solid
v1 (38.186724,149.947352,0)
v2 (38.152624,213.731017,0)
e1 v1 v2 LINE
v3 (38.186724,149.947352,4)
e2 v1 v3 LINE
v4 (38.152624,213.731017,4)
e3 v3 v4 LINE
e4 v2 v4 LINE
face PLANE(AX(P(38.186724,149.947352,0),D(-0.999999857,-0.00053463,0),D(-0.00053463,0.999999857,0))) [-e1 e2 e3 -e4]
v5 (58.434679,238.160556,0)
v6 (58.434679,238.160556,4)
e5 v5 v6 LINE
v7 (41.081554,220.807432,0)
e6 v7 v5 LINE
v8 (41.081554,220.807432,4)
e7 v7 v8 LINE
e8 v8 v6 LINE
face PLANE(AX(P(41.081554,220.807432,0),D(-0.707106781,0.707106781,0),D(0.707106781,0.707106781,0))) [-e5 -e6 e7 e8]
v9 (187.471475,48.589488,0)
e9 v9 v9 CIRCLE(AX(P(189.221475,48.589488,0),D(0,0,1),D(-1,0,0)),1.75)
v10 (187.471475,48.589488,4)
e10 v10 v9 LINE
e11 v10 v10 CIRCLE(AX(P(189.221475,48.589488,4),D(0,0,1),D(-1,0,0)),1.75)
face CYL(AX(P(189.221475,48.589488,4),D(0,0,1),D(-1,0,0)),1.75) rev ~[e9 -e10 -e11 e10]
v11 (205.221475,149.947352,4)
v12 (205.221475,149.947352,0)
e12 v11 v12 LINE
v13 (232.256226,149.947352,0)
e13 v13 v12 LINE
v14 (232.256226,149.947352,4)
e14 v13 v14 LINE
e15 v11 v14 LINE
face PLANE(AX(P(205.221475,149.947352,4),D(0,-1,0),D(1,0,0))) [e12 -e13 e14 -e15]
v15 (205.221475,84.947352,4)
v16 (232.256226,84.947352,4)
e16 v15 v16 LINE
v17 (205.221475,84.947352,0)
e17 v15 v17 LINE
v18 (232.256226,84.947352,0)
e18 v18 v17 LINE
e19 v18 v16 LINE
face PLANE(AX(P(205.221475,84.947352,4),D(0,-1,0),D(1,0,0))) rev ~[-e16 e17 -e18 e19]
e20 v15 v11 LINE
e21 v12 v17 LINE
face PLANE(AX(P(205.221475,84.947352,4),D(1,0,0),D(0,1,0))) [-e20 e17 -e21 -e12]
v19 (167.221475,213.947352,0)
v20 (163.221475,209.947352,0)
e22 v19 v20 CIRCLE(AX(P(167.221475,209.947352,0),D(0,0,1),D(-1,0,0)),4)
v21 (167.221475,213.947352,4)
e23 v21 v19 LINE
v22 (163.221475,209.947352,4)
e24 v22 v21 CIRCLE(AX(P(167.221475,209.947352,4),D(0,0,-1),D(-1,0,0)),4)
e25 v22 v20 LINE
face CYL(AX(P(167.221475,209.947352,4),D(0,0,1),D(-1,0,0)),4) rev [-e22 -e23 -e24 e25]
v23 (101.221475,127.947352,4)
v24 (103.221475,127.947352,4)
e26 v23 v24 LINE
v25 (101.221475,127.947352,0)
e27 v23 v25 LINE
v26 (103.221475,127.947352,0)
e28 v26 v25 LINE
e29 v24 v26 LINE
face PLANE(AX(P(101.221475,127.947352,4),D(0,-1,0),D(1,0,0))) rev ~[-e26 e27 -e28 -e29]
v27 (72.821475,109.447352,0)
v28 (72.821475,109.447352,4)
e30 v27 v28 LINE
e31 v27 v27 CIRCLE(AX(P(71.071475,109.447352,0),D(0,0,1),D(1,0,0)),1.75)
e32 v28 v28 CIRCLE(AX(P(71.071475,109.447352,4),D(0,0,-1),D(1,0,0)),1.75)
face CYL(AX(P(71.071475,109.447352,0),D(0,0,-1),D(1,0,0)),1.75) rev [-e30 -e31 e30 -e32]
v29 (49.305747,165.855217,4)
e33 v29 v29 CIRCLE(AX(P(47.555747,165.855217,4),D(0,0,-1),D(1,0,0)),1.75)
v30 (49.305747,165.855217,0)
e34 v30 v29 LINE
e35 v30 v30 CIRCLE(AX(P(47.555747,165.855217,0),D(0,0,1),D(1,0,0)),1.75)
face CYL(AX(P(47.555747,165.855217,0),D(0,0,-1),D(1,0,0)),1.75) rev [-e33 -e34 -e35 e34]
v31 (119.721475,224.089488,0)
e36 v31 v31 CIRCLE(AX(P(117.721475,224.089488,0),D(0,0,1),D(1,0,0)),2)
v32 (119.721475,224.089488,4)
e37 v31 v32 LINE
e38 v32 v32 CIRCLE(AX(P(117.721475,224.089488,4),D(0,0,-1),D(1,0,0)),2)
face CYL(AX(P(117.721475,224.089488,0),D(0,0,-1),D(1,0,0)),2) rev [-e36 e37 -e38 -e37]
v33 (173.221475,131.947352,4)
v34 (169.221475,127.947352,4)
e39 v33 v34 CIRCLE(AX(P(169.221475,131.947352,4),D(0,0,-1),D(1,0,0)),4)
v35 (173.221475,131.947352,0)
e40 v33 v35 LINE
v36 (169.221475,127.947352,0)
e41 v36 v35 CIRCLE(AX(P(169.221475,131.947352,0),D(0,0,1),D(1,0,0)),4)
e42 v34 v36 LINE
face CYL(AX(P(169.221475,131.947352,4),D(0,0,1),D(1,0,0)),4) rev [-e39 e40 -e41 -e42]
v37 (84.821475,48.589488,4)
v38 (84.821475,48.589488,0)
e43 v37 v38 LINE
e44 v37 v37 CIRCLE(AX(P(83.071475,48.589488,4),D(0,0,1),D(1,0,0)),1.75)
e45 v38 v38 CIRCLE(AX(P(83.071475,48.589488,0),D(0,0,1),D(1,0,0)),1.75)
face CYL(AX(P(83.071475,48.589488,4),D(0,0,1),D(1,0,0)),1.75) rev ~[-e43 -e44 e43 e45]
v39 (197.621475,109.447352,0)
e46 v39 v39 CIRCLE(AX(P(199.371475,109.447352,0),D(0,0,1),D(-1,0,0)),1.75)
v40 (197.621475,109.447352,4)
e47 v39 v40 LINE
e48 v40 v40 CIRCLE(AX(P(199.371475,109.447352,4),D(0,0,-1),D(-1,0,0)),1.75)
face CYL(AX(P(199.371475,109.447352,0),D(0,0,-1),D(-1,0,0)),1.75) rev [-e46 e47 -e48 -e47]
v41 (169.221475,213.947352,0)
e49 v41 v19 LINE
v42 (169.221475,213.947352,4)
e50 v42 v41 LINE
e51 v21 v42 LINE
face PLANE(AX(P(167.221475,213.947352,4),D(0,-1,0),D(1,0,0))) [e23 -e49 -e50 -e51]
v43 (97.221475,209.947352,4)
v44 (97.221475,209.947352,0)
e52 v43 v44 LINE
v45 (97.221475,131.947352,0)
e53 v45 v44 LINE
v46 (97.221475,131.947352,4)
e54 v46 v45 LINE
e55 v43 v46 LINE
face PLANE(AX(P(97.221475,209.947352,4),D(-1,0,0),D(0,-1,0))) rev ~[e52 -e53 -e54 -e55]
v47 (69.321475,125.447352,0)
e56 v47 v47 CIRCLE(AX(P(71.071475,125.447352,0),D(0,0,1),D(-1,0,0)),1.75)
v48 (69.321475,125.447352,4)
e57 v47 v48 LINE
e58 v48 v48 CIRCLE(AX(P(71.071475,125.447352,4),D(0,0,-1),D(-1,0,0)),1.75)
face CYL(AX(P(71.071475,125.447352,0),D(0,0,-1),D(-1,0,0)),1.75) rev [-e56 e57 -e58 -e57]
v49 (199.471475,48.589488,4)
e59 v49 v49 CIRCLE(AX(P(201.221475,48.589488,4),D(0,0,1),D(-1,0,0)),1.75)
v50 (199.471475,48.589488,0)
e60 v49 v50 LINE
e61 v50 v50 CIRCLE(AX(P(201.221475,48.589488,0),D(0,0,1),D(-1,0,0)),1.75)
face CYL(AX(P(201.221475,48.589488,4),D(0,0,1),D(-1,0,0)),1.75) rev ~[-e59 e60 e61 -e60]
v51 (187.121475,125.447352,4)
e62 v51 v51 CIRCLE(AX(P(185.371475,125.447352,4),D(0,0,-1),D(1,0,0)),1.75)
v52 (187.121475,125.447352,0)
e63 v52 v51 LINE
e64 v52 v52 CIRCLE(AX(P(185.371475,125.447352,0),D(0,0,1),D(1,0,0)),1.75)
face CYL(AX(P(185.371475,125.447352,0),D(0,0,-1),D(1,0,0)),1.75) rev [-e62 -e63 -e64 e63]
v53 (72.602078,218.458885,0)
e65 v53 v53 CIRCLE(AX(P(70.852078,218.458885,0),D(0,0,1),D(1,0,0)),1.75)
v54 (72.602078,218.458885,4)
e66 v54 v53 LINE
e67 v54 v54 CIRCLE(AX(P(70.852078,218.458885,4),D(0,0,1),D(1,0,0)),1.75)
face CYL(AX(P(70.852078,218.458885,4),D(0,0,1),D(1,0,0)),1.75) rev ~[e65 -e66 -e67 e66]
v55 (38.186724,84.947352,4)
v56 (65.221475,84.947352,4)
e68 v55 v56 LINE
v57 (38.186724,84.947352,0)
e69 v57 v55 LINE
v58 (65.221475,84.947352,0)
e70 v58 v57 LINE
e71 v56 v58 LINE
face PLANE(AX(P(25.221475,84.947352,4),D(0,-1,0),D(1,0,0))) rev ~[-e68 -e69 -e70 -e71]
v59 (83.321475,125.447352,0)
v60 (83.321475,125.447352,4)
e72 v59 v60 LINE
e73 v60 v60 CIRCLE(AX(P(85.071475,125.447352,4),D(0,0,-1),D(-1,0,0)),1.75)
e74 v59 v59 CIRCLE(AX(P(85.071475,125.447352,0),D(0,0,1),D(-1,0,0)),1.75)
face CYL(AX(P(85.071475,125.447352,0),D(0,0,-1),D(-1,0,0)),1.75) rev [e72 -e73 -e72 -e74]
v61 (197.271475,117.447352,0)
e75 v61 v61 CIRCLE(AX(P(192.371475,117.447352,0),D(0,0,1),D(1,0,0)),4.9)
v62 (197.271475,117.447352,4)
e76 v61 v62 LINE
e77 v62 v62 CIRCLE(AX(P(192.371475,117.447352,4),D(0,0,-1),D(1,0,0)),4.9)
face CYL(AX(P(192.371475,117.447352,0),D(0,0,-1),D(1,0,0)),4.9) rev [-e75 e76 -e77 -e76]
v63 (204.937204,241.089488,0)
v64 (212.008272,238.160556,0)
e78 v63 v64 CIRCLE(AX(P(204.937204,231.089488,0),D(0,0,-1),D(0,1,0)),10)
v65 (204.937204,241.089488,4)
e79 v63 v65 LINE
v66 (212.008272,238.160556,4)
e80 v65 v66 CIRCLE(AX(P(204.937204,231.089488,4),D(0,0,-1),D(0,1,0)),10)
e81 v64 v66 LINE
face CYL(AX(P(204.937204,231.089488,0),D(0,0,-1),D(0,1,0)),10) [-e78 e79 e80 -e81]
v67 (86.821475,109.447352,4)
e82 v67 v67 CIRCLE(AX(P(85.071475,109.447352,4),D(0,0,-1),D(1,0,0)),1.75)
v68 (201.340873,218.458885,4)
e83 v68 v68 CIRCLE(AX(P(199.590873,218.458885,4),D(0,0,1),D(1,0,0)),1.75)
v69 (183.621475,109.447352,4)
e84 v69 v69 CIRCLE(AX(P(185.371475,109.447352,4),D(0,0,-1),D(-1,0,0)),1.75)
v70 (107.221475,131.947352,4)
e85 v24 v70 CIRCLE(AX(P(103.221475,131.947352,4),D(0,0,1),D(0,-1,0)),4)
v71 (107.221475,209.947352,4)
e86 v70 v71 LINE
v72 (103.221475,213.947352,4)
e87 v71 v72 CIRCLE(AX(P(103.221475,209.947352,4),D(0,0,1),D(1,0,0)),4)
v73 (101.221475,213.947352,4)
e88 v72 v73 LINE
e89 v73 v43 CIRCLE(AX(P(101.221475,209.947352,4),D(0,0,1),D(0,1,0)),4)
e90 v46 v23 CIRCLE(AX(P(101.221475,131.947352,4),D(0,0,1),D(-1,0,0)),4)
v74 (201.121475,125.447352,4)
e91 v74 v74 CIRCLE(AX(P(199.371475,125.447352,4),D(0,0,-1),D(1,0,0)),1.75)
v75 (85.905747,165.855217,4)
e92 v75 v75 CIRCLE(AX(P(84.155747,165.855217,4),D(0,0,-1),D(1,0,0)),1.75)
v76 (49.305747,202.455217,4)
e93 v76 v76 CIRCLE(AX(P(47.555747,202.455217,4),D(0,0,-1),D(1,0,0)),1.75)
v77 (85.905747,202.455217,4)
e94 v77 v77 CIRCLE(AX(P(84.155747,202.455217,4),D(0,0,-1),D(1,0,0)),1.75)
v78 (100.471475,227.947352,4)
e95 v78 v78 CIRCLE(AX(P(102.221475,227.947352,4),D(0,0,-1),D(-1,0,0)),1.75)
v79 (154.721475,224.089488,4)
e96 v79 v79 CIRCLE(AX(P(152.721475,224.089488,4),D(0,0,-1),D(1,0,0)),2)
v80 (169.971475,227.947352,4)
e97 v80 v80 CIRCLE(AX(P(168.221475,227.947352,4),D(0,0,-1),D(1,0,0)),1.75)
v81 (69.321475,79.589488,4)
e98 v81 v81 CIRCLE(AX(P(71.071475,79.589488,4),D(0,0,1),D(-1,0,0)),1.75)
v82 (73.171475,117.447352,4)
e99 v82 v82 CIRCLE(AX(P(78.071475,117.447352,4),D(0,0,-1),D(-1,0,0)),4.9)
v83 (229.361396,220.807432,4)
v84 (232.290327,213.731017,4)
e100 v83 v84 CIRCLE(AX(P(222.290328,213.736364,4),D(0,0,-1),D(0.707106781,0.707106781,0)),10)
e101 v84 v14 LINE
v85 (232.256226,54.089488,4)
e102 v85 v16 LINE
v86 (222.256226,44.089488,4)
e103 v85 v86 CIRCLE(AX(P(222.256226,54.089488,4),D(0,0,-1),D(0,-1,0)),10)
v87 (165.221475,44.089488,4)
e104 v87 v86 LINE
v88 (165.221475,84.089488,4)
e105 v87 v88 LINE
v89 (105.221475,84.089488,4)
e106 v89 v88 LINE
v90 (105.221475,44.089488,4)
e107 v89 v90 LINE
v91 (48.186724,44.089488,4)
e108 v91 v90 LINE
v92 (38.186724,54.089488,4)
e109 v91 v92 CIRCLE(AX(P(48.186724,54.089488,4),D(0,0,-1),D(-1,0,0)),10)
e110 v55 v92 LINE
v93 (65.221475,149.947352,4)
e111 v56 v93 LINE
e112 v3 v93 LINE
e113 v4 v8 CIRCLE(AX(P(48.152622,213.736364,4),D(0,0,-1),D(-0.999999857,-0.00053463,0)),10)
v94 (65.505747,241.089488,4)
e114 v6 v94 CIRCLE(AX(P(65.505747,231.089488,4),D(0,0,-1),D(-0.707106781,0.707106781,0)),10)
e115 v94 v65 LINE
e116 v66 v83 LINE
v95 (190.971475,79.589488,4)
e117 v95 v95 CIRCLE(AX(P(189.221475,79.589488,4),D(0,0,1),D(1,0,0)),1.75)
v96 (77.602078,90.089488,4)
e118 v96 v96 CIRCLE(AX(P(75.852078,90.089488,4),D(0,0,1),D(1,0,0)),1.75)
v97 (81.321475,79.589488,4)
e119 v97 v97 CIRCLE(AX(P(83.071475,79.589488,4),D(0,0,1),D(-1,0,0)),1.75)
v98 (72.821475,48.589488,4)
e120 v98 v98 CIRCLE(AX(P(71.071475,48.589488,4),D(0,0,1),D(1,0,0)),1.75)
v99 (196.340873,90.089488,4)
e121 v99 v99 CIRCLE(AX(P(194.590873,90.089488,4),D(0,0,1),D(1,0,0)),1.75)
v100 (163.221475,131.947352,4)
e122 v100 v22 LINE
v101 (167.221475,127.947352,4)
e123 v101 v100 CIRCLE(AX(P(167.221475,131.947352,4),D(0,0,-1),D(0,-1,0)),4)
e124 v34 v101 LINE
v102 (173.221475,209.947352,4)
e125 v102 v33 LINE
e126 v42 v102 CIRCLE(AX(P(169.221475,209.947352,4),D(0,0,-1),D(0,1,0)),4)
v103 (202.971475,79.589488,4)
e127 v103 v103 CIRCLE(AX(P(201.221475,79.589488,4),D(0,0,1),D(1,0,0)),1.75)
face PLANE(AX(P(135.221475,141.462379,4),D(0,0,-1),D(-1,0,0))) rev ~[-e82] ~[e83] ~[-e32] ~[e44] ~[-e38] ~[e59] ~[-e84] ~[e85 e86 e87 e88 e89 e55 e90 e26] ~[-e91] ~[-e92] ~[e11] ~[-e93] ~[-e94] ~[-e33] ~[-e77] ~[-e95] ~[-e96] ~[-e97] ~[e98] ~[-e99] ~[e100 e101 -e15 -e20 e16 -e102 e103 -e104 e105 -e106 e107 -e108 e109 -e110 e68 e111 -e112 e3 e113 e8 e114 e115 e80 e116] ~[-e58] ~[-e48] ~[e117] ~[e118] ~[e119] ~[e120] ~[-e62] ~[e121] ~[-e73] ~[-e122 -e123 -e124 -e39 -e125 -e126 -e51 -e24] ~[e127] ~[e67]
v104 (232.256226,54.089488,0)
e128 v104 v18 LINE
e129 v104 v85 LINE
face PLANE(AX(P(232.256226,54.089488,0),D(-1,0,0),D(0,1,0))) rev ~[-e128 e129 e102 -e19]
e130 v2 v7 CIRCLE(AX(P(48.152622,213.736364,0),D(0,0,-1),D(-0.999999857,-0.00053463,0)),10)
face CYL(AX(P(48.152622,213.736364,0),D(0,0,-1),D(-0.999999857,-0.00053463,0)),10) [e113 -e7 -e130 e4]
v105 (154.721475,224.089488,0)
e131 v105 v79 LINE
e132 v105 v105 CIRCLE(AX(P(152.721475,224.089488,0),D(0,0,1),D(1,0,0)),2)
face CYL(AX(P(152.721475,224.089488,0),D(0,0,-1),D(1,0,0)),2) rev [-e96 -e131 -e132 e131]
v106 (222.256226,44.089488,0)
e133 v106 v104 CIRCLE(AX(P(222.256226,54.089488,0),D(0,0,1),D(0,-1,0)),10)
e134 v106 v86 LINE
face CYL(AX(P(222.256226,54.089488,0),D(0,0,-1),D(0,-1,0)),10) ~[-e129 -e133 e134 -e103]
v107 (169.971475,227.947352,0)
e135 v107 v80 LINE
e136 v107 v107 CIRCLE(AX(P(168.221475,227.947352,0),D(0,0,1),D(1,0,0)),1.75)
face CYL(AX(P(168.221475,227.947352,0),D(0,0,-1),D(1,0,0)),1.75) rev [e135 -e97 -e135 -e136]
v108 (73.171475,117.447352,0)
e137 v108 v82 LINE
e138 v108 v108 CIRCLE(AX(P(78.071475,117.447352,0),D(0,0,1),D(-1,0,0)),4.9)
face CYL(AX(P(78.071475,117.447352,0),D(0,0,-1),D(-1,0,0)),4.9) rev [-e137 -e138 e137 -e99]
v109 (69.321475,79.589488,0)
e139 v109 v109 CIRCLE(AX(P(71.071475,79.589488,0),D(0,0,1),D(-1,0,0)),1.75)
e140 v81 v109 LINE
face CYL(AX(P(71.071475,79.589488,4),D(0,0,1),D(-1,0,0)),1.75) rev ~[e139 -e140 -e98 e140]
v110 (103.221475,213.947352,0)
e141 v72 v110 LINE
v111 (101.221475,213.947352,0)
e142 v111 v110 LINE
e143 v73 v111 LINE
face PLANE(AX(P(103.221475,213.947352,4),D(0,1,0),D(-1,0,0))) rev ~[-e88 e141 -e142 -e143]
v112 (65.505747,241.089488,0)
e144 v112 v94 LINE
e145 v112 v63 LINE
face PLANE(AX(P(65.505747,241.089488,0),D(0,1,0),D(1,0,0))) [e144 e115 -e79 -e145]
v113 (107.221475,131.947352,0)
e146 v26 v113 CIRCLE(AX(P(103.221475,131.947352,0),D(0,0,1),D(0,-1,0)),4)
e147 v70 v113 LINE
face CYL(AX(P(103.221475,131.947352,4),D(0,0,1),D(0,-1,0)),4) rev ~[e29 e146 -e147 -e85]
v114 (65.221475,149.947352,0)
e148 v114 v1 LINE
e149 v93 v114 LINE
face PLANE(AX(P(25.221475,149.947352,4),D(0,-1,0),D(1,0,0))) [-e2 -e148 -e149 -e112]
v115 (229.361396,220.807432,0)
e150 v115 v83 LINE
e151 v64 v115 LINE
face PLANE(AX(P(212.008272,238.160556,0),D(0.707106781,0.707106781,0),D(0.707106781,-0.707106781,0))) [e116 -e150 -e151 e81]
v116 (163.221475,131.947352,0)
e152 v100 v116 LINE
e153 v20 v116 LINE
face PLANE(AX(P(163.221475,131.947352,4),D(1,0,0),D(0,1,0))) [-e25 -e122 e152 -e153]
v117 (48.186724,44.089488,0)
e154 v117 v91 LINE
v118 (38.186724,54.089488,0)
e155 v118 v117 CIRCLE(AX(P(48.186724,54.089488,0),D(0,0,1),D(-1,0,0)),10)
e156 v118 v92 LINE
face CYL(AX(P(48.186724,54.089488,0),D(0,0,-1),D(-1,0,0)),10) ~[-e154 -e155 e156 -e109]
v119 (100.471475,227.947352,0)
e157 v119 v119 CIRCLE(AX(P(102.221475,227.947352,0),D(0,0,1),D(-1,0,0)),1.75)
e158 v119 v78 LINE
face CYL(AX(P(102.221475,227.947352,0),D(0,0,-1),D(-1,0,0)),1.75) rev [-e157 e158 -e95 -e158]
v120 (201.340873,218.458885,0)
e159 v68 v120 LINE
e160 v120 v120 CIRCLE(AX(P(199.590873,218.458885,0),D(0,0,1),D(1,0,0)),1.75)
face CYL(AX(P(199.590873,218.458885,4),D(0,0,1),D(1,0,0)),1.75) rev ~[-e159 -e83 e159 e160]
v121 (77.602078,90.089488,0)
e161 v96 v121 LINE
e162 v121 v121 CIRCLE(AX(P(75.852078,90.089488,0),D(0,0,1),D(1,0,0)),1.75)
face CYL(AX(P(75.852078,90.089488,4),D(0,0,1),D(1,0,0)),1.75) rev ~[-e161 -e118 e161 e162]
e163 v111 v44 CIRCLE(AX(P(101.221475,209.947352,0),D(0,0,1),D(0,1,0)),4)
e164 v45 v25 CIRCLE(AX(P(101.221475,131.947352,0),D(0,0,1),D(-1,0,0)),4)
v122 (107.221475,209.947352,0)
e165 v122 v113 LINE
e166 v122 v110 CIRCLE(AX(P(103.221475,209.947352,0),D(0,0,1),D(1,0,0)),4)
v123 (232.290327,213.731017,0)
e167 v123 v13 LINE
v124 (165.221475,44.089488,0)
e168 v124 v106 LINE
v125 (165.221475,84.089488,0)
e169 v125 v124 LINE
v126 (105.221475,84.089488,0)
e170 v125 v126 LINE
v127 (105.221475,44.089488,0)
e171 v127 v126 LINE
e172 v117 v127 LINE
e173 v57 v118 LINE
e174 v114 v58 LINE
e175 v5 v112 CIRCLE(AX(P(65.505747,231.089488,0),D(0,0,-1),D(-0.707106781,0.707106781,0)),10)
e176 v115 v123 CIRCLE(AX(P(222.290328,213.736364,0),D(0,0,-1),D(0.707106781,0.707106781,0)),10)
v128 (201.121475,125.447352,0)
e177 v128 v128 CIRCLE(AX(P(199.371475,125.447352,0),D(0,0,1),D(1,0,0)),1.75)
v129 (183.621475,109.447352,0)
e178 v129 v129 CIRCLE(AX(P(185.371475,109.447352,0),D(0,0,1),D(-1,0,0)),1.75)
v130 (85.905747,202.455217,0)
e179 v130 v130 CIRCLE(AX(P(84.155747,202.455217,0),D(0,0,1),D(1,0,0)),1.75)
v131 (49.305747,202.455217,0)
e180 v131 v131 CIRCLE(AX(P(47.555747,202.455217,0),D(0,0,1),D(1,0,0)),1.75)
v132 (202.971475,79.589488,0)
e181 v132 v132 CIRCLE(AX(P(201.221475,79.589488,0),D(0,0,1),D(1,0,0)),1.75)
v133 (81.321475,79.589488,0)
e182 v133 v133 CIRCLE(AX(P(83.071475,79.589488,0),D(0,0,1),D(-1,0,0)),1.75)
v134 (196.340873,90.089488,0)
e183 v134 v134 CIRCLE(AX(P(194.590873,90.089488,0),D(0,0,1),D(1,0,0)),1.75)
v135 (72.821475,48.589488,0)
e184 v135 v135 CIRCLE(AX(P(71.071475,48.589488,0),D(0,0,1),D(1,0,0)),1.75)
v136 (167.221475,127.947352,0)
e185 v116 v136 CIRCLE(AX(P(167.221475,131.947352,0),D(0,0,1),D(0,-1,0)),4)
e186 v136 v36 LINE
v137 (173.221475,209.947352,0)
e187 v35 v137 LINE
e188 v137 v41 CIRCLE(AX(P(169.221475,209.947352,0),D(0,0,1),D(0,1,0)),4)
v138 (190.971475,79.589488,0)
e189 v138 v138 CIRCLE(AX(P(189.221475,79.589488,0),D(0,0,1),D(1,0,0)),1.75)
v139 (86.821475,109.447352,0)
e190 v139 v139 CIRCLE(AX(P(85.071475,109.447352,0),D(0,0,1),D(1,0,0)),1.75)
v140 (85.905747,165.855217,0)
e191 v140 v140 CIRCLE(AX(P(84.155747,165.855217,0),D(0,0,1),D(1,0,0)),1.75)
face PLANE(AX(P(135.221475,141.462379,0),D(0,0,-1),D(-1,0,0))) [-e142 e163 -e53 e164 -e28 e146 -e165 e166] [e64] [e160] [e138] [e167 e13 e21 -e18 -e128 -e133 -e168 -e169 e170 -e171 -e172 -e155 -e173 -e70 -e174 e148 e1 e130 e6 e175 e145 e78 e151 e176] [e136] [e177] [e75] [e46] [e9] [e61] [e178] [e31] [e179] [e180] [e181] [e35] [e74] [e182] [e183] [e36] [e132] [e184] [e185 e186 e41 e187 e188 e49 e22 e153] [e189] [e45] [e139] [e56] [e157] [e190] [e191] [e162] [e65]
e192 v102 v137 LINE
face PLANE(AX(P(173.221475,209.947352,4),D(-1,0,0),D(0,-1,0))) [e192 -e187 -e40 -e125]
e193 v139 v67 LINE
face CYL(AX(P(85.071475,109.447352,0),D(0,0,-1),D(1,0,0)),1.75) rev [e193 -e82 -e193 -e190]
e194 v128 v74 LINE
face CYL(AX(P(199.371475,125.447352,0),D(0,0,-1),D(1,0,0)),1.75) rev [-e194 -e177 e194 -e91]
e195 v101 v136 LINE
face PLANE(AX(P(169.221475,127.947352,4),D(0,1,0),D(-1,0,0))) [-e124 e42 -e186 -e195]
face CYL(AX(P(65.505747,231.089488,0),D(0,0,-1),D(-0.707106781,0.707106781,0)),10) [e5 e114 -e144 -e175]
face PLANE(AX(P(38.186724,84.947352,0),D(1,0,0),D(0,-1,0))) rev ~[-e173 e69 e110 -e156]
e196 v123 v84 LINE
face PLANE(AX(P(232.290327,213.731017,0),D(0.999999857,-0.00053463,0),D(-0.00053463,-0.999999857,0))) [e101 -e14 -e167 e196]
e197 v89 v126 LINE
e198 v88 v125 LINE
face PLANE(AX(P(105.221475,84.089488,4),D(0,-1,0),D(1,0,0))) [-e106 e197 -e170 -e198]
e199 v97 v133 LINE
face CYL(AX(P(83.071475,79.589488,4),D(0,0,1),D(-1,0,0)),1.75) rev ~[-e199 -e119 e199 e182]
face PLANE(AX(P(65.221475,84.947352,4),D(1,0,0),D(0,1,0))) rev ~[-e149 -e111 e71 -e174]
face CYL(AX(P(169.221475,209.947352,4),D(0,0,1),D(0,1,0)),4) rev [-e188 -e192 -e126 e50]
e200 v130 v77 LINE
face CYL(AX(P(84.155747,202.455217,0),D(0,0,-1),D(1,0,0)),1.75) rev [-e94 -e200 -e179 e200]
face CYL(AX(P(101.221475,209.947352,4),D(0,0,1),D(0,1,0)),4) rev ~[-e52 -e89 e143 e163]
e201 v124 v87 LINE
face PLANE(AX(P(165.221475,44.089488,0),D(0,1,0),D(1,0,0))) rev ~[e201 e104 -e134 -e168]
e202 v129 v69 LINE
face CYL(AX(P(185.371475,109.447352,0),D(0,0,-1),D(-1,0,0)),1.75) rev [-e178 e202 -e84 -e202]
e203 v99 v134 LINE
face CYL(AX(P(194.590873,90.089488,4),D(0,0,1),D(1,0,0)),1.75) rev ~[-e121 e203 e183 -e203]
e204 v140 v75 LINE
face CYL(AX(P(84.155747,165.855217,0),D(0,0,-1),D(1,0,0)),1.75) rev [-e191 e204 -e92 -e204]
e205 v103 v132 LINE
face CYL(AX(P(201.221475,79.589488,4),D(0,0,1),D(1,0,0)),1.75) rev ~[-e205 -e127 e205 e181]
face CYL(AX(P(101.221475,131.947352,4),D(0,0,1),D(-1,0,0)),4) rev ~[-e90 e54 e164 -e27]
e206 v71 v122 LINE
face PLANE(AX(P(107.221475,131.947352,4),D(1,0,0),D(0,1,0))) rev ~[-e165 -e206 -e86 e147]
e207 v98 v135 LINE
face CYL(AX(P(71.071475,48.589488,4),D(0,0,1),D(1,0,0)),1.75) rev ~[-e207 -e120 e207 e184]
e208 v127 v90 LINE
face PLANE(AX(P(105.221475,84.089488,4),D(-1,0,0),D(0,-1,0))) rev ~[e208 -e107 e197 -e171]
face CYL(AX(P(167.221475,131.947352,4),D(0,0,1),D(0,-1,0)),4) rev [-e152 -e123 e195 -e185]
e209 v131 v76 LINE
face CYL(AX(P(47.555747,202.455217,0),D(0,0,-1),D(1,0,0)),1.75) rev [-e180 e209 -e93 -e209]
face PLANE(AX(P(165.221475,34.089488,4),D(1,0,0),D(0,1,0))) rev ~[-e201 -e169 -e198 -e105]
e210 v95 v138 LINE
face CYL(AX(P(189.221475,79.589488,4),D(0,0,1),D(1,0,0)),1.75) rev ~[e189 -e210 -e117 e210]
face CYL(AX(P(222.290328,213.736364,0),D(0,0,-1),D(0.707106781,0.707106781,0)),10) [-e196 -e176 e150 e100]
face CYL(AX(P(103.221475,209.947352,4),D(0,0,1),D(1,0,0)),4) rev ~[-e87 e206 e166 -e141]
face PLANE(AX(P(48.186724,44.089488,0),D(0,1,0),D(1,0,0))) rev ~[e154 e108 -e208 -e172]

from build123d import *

# Parameters (mm, degrees)
EXTRUDE_1_DEPTH      = 4
L298N_R              = 1.75
CUT_EXTRUDE_5_DEPTH  = 10
SKETCH_583_R         = 1.75
CUT_EXTRUDE_7_DEPTH  = 10
SKETCH_1386_W        = 40
SKETCH_1386_H        = 65
CUT_EXTRUDE_8_DEPTH  = 10
SKETCH_4195_R        = 2
CUT_EXTRUDE_10_DEPTH = 10
SKETCH_2209_R        = 1.75
SKETCH_2209_R_2      = 4.9
CUT_EXTRUDE_3_DEPTH  = 10
CUT_EXTRUDE_11_REACH = 358.759
SKETCH_11_R          = 1.75
SKETCH_12_W          = 60
SKETCH_12_H          = 40
SKETCH_12_H_2        = 10
CUT_EXTRUDE_12_DEPTH = 10
SKETCH_13_R          = 1.75
CUT_EXTRUDE_14_DEPTH = 357.758930871
SKETCH_14_R          = 1.75
CUT_EXTRUDE_15_DEPTH = 10
CUT_EXTRUDE_16_DEPTH = 10
CUT_EXTRUDE_17_DEPTH = 10


with BuildPart() as part:
    # 草图3 → 凸台-拉伸1 (new body)
    with BuildSketch(Plane.XY):
        with BuildLine():
            Line((73.505746565, 259.089488009), (196.937204075, 259.089488009))
            ThreePointArc((196.937204075, 259.089488009), (204.590872722, 257.56707866), (211.079339699, 253.231623633))
            Line((211.079339699, 253.231623633), (239.363610946, 224.947352386))
            ThreePointArc((239.363610946, 224.947352386), (243.699065973, 218.458885409), (245.221475323, 210.805216762))
            Line((245.221475323, 210.805216762), (245.221475323, 54.089488009))
            ThreePointArc((245.221475323, 54.089488009), (239.363610946, 39.947352386), (225.221475323, 34.089488009))
            Line((225.221475323, 34.089488009), (45.221475318, 34.089488009))
            ThreePointArc((45.221475318, 34.089488009), (31.079339694, 39.947352386), (25.221475318, 54.089488009))
            Line((25.221475318, 54.089488009), (25.221475318, 210.805216762))
            ThreePointArc((25.221475318, 210.805216762), (26.743884667, 218.458885409), (31.079339694, 224.947352386))
            Line((31.079339694, 224.947352386), (59.363610941, 253.231623633))
            ThreePointArc((59.363610941, 253.231623633), (65.852077918, 257.56707866), (73.505746565, 259.089488009))
        make_face()
    extrude(amount=EXTRUDE_1_DEPTH)

    # L298N → 切除-拉伸5 (cut)
    with BuildSketch(Plane.XY):
        with Locations((47.555746565, 165.855216762)):
            Circle(L298N_R)
        with Locations((47.555746565, 202.455216762)):
            Circle(L298N_R)
        with Locations((84.155746565, 202.455216762)):
            Circle(L298N_R)
        with Locations((84.155746565, 165.855216762)):
            Circle(L298N_R)
    extrude(amount=CUT_EXTRUDE_5_DEPTH, mode=Mode.SUBTRACT)

    # Sketch 583 → 切除-拉伸7 (cut)
    with BuildSketch(Plane.XY):
        with Locations((168.22147532, 227.947352386)):
            Circle(SKETCH_583_R)
        with Locations(Location((168.22147532, 151.947352386, 0), (0, 0, 180))):
            Circle(SKETCH_583_R)
        with Locations((102.22147532, 151.947352386)):
            Circle(SKETCH_583_R)
        with Locations(Location((102.22147532, 227.947352386, 0), (0, 0, 180))):
            Circle(SKETCH_583_R)
    extrude(amount=CUT_EXTRUDE_7_DEPTH, mode=Mode.SUBTRACT)

    # Sketch 1386 → 切除-拉伸8 (cut)
    with BuildSketch(Plane.XY.offset(4)):
        with Locations((225.221475323, 117.447352386)):
            Rectangle(SKETCH_1386_W, SKETCH_1386_H)
        with Locations((45.221475318, 117.447352386)):
            Rectangle(SKETCH_1386_W, SKETCH_1386_H)
    extrude(amount=-CUT_EXTRUDE_8_DEPTH, mode=Mode.SUBTRACT)

    # Sketch 4195 → 切除-拉伸10 (cut)
    with BuildSketch(Plane.XY):
        with Locations((117.72147532, 224.089488009)):
            Circle(SKETCH_4195_R)
        with Locations((152.72147532, 224.089488009)):
            Circle(SKETCH_4195_R)
    extrude(amount=CUT_EXTRUDE_10_DEPTH, mode=Mode.SUBTRACT)

    # Sketch 2209 → 切除-拉伸3 (cut)
    with BuildSketch(Plane.XY):
        with Locations(Location((185.371475323, 109.447352386, 0), (0, 0, 180))):
            Circle(SKETCH_2209_R)
        with Locations((199.371475323, 125.447352386)):
            Circle(SKETCH_2209_R)
        with Locations((192.371475323, 117.447352386)):
            Circle(SKETCH_2209_R_2)
        with Locations((185.371475323, 125.447352386)):
            Circle(SKETCH_2209_R)
        with Locations(Location((199.371475323, 109.447352386, 0), (0, 0, 180))):
            Circle(SKETCH_2209_R)
        with Locations((71.071475318, 109.447352386)):
            Circle(SKETCH_2209_R)
        with Locations(Location((85.071475318, 125.447352386, 0), (0, 0, 180))):
            Circle(SKETCH_2209_R)
        with Locations(Location((78.071475318, 117.447352386, 0), (0, 0, 180))):
            Circle(SKETCH_2209_R_2)
        with Locations(Location((71.071475318, 125.447352386, 0), (0, 0, 180))):
            Circle(SKETCH_2209_R)
        with Locations((85.071475318, 109.447352386)):
            Circle(SKETCH_2209_R)
    extrude(amount=CUT_EXTRUDE_3_DEPTH, mode=Mode.SUBTRACT)

    # 草图11 → 切除-拉伸11 (cut, up to next)
    with BuildSketch(Plane.XY.offset(4), mode=Mode.PRIVATE) as cut_extrude_11_sk1:
        with Locations((75.852077918, 90.089488009)):
            Circle(SKETCH_11_R)
    cut_extrude_11_tool1 = extrude(cut_extrude_11_sk1.sketch, amount=-CUT_EXTRUDE_11_REACH, mode=Mode.PRIVATE) & part.part
    # 草图11 → 切除-拉伸11 (cut, up to next)
    with BuildSketch(Plane.XY.offset(4), mode=Mode.PRIVATE) as cut_extrude_11_sk2:
        with Locations((70.852077918, 218.458885409)):
            Circle(SKETCH_11_R)
    cut_extrude_11_tool2 = extrude(cut_extrude_11_sk2.sketch, amount=-CUT_EXTRUDE_11_REACH, mode=Mode.PRIVATE) & part.part
    # 草图11 → 切除-拉伸11 (cut, up to next)
    with BuildSketch(Plane.XY.offset(4), mode=Mode.PRIVATE) as cut_extrude_11_sk3:
        with Locations((199.590872722, 218.458885409)):
            Circle(SKETCH_11_R)
    cut_extrude_11_tool3 = extrude(cut_extrude_11_sk3.sketch, amount=-CUT_EXTRUDE_11_REACH, mode=Mode.PRIVATE) & part.part
    # 草图11 → 切除-拉伸11 (cut, up to next)
    with BuildSketch(Plane.XY.offset(4), mode=Mode.PRIVATE) as cut_extrude_11_sk4:
        with Locations((194.590872722, 90.089488009)):
            Circle(SKETCH_11_R)
    cut_extrude_11_tool4 = extrude(cut_extrude_11_sk4.sketch, amount=-CUT_EXTRUDE_11_REACH, mode=Mode.PRIVATE) & part.part
    add(cut_extrude_11_tool1.solids().sort_by_distance((75.852078, 90.089488, 4))[0], mode=Mode.SUBTRACT)
    add(cut_extrude_11_tool2.solids().sort_by_distance((70.852078, 218.458885, 4))[0], mode=Mode.SUBTRACT)
    add(cut_extrude_11_tool3.solids().sort_by_distance((199.590873, 218.458885, 4))[0], mode=Mode.SUBTRACT)
    add(cut_extrude_11_tool4.solids().sort_by_distance((194.590873, 90.089488, 4))[0], mode=Mode.SUBTRACT)

    # 草图12 → 切除-拉伸12 (cut)
    with BuildSketch(Plane.XY.offset(4)):
        with Locations((135.22147532, 54.089488009)):
            Rectangle(SKETCH_12_W, SKETCH_12_H)
        with Locations((135.22147532, 79.089488009)):
            Rectangle(SKETCH_12_W, SKETCH_12_H_2)
    extrude(amount=-CUT_EXTRUDE_12_DEPTH, mode=Mode.SUBTRACT)

    # 草图13 → 切除-拉伸14 (cut, through all)
    with BuildSketch(Plane.XY.offset(4)):
        with Locations((83.07147532, 48.589488009)):
            Circle(SKETCH_13_R)
        with Locations((71.07147532, 48.589488009)):
            Circle(SKETCH_13_R)
        with Locations(Location((71.07147532, 79.589488009, 0), (0, 0, 180))):
            Circle(SKETCH_13_R)
        with Locations(Location((83.07147532, 79.589488009, 0), (0, 0, 180))):
            Circle(SKETCH_13_R)
        with Locations((189.22147532, 79.589488009)):
            Circle(SKETCH_13_R)
        with Locations((201.22147532, 79.589488009)):
            Circle(SKETCH_13_R)
        with Locations(Location((201.22147532, 48.589488009, 0), (0, 0, 180))):
            Circle(SKETCH_13_R)
        with Locations(Location((189.22147532, 48.589488009, 0), (0, 0, 180))):
            Circle(SKETCH_13_R)
    extrude(amount=-CUT_EXTRUDE_14_DEPTH, mode=Mode.SUBTRACT)

    # 草图14 → 切除-拉伸15 (cut)
    with BuildSketch(Plane.XY.offset(4)):
        with BuildLine():
            Line((103.22147532, 213.947352386), (101.22147532, 213.947352386))
            ThreePointArc((101.22147532, 213.947352386), (98.393048195, 212.77577951), (97.22147532, 209.947352386))
            Line((97.22147532, 209.947352386), (97.22147532, 131.947352386))
            ThreePointArc((97.22147532, 131.947352386), (98.393048195, 129.118925261), (101.22147532, 127.947352386))
            Line((101.22147532, 127.947352386), (103.22147532, 127.947352386))
            ThreePointArc((103.22147532, 127.947352386), (106.049902445, 129.118925261), (107.22147532, 131.947352386))
            Line((107.22147532, 131.947352386), (107.22147532, 209.947352386))
            ThreePointArc((107.22147532, 209.947352386), (106.049902445, 212.77577951), (103.22147532, 213.947352386))
        make_face()
        with BuildLine():
            Line((167.22147532, 213.947352386), (169.22147532, 213.947352386))
            ThreePointArc((169.22147532, 213.947352386), (172.049902445, 212.77577951), (173.22147532, 209.947352386))
            Line((173.22147532, 209.947352386), (173.22147532, 131.947352386))
            ThreePointArc((173.22147532, 131.947352386), (172.049902445, 129.118925261), (169.22147532, 127.947352386))
            Line((169.22147532, 127.947352386), (167.22147532, 127.947352386))
            ThreePointArc((167.22147532, 127.947352386), (164.393048195, 129.118925261), (163.22147532, 131.947352386))
            Line((163.22147532, 131.947352386), (163.22147532, 209.947352386))
            ThreePointArc((163.22147532, 209.947352386), (164.393048195, 212.77577951), (167.22147532, 213.947352386))
        make_face()
        with Locations((102.22147532, 207.947352386)):
            Circle(SKETCH_14_R)
    extrude(amount=-CUT_EXTRUDE_15_DEPTH, mode=Mode.SUBTRACT)

    # 草图16 → 切除-拉伸16 (cut)
    with BuildSketch(Plane.XY):
        with BuildLine():
            Line((38.186724359, 149.947352386), (38.152623691, 213.731017405))
            ThreePointArc((38.152623691, 213.731017405), (38.912804296, 217.560728224), (41.08155445, 220.807431517))
            Line((41.08155445, 220.807431517), (58.434678753, 238.160555821))
            ThreePointArc((58.434678753, 238.160555821), (61.678912242, 240.328283334), (65.505746565, 241.089488009))
            Line((65.505746565, 241.089488009), (204.937204075, 241.089488009))
            ThreePointArc((204.937204075, 241.089488009), (208.764038399, 240.328283334), (212.008271887, 238.160555821))
            Line((212.008271887, 238.160555821), (229.361396191, 220.807431517))
            ThreePointArc((229.361396191, 220.807431517), (231.530146344, 217.560728224), (232.29032695, 213.731017405))
            Line((232.29032695, 213.731017405), (232.256226281, 149.947352386))
            Line((232.256226281, 149.947352386), (245.221475323, 149.947352386))
            Line((245.221475323, 149.947352386), (245.221475323, 210.805216762))
            ThreePointArc((245.221475323, 210.805216762), (243.699065973, 218.458885409), (239.363610946, 224.947352386))
            Line((239.363610946, 224.947352386), (211.079339699, 253.231623633))
            ThreePointArc((211.079339699, 253.231623633), (204.590872722, 257.56707866), (196.937204075, 259.089488009))
            Line((196.937204075, 259.089488009), (73.505746565, 259.089488009))
            ThreePointArc((73.505746565, 259.089488009), (65.852077918, 257.56707866), (59.363610941, 253.231623633))
            Line((59.363610941, 253.231623633), (31.079339694, 224.947352386))
            ThreePointArc((31.079339694, 224.947352386), (26.743884667, 218.458885409), (25.221475318, 210.805216762))
            Line((25.221475318, 210.805216762), (25.221475318, 149.947352386))
            Line((25.221475318, 149.947352386), (38.186724359, 149.947352386))
        make_face()
    extrude(amount=CUT_EXTRUDE_16_DEPTH, mode=Mode.SUBTRACT)

    # 草图18 → 切除-拉伸17 (cut)
    with BuildSketch(Plane.XY):
        with BuildLine():
            Line((48.186724359, 44.089488009), (95.22147532, 44.089488009))
            Line((95.22147532, 44.089488009), (105.22147532, 44.089488009))
            Line((105.22147532, 44.089488009), (105.22147532, 34.089488009))
            Line((105.22147532, 34.089488009), (45.221475318, 34.089488009))
            ThreePointArc((45.221475318, 34.089488009), (31.079339694, 39.947352386), (25.221475318, 54.089488009))
            Line((25.221475318, 54.089488009), (25.221475318, 84.947352386))
            Line((25.221475318, 84.947352386), (38.186724359, 84.947352386))
            Line((38.186724359, 84.947352386), (38.186724359, 54.089488009))
            ThreePointArc((38.186724359, 54.089488009), (41.115656548, 47.018420197), (48.186724359, 44.089488009))
        make_face()
        with BuildLine():
            Line((175.22147532, 44.089488009), (222.256226281, 44.089488009))
            ThreePointArc((222.256226281, 44.089488009), (229.327294093, 47.018420197), (232.256226281, 54.089488009))
            Line((232.256226281, 54.089488009), (232.256226281, 84.947352386))
            Line((232.256226281, 84.947352386), (245.221475323, 84.947352386))
            Line((245.221475323, 84.947352386), (245.221475323, 54.089488009))
            ThreePointArc((245.221475323, 54.089488009), (239.363610946, 39.947352386), (225.221475323, 34.089488009))
            Line((225.221475323, 34.089488009), (165.22147532, 34.089488009))
            Line((165.22147532, 34.089488009), (165.22147532, 44.089488009))
            Line((165.22147532, 44.089488009), (175.22147532, 44.089488009))
        make_face()
    extrude(amount=CUT_EXTRUDE_17_DEPTH, mode=Mode.SUBTRACT)


solid = part.part
